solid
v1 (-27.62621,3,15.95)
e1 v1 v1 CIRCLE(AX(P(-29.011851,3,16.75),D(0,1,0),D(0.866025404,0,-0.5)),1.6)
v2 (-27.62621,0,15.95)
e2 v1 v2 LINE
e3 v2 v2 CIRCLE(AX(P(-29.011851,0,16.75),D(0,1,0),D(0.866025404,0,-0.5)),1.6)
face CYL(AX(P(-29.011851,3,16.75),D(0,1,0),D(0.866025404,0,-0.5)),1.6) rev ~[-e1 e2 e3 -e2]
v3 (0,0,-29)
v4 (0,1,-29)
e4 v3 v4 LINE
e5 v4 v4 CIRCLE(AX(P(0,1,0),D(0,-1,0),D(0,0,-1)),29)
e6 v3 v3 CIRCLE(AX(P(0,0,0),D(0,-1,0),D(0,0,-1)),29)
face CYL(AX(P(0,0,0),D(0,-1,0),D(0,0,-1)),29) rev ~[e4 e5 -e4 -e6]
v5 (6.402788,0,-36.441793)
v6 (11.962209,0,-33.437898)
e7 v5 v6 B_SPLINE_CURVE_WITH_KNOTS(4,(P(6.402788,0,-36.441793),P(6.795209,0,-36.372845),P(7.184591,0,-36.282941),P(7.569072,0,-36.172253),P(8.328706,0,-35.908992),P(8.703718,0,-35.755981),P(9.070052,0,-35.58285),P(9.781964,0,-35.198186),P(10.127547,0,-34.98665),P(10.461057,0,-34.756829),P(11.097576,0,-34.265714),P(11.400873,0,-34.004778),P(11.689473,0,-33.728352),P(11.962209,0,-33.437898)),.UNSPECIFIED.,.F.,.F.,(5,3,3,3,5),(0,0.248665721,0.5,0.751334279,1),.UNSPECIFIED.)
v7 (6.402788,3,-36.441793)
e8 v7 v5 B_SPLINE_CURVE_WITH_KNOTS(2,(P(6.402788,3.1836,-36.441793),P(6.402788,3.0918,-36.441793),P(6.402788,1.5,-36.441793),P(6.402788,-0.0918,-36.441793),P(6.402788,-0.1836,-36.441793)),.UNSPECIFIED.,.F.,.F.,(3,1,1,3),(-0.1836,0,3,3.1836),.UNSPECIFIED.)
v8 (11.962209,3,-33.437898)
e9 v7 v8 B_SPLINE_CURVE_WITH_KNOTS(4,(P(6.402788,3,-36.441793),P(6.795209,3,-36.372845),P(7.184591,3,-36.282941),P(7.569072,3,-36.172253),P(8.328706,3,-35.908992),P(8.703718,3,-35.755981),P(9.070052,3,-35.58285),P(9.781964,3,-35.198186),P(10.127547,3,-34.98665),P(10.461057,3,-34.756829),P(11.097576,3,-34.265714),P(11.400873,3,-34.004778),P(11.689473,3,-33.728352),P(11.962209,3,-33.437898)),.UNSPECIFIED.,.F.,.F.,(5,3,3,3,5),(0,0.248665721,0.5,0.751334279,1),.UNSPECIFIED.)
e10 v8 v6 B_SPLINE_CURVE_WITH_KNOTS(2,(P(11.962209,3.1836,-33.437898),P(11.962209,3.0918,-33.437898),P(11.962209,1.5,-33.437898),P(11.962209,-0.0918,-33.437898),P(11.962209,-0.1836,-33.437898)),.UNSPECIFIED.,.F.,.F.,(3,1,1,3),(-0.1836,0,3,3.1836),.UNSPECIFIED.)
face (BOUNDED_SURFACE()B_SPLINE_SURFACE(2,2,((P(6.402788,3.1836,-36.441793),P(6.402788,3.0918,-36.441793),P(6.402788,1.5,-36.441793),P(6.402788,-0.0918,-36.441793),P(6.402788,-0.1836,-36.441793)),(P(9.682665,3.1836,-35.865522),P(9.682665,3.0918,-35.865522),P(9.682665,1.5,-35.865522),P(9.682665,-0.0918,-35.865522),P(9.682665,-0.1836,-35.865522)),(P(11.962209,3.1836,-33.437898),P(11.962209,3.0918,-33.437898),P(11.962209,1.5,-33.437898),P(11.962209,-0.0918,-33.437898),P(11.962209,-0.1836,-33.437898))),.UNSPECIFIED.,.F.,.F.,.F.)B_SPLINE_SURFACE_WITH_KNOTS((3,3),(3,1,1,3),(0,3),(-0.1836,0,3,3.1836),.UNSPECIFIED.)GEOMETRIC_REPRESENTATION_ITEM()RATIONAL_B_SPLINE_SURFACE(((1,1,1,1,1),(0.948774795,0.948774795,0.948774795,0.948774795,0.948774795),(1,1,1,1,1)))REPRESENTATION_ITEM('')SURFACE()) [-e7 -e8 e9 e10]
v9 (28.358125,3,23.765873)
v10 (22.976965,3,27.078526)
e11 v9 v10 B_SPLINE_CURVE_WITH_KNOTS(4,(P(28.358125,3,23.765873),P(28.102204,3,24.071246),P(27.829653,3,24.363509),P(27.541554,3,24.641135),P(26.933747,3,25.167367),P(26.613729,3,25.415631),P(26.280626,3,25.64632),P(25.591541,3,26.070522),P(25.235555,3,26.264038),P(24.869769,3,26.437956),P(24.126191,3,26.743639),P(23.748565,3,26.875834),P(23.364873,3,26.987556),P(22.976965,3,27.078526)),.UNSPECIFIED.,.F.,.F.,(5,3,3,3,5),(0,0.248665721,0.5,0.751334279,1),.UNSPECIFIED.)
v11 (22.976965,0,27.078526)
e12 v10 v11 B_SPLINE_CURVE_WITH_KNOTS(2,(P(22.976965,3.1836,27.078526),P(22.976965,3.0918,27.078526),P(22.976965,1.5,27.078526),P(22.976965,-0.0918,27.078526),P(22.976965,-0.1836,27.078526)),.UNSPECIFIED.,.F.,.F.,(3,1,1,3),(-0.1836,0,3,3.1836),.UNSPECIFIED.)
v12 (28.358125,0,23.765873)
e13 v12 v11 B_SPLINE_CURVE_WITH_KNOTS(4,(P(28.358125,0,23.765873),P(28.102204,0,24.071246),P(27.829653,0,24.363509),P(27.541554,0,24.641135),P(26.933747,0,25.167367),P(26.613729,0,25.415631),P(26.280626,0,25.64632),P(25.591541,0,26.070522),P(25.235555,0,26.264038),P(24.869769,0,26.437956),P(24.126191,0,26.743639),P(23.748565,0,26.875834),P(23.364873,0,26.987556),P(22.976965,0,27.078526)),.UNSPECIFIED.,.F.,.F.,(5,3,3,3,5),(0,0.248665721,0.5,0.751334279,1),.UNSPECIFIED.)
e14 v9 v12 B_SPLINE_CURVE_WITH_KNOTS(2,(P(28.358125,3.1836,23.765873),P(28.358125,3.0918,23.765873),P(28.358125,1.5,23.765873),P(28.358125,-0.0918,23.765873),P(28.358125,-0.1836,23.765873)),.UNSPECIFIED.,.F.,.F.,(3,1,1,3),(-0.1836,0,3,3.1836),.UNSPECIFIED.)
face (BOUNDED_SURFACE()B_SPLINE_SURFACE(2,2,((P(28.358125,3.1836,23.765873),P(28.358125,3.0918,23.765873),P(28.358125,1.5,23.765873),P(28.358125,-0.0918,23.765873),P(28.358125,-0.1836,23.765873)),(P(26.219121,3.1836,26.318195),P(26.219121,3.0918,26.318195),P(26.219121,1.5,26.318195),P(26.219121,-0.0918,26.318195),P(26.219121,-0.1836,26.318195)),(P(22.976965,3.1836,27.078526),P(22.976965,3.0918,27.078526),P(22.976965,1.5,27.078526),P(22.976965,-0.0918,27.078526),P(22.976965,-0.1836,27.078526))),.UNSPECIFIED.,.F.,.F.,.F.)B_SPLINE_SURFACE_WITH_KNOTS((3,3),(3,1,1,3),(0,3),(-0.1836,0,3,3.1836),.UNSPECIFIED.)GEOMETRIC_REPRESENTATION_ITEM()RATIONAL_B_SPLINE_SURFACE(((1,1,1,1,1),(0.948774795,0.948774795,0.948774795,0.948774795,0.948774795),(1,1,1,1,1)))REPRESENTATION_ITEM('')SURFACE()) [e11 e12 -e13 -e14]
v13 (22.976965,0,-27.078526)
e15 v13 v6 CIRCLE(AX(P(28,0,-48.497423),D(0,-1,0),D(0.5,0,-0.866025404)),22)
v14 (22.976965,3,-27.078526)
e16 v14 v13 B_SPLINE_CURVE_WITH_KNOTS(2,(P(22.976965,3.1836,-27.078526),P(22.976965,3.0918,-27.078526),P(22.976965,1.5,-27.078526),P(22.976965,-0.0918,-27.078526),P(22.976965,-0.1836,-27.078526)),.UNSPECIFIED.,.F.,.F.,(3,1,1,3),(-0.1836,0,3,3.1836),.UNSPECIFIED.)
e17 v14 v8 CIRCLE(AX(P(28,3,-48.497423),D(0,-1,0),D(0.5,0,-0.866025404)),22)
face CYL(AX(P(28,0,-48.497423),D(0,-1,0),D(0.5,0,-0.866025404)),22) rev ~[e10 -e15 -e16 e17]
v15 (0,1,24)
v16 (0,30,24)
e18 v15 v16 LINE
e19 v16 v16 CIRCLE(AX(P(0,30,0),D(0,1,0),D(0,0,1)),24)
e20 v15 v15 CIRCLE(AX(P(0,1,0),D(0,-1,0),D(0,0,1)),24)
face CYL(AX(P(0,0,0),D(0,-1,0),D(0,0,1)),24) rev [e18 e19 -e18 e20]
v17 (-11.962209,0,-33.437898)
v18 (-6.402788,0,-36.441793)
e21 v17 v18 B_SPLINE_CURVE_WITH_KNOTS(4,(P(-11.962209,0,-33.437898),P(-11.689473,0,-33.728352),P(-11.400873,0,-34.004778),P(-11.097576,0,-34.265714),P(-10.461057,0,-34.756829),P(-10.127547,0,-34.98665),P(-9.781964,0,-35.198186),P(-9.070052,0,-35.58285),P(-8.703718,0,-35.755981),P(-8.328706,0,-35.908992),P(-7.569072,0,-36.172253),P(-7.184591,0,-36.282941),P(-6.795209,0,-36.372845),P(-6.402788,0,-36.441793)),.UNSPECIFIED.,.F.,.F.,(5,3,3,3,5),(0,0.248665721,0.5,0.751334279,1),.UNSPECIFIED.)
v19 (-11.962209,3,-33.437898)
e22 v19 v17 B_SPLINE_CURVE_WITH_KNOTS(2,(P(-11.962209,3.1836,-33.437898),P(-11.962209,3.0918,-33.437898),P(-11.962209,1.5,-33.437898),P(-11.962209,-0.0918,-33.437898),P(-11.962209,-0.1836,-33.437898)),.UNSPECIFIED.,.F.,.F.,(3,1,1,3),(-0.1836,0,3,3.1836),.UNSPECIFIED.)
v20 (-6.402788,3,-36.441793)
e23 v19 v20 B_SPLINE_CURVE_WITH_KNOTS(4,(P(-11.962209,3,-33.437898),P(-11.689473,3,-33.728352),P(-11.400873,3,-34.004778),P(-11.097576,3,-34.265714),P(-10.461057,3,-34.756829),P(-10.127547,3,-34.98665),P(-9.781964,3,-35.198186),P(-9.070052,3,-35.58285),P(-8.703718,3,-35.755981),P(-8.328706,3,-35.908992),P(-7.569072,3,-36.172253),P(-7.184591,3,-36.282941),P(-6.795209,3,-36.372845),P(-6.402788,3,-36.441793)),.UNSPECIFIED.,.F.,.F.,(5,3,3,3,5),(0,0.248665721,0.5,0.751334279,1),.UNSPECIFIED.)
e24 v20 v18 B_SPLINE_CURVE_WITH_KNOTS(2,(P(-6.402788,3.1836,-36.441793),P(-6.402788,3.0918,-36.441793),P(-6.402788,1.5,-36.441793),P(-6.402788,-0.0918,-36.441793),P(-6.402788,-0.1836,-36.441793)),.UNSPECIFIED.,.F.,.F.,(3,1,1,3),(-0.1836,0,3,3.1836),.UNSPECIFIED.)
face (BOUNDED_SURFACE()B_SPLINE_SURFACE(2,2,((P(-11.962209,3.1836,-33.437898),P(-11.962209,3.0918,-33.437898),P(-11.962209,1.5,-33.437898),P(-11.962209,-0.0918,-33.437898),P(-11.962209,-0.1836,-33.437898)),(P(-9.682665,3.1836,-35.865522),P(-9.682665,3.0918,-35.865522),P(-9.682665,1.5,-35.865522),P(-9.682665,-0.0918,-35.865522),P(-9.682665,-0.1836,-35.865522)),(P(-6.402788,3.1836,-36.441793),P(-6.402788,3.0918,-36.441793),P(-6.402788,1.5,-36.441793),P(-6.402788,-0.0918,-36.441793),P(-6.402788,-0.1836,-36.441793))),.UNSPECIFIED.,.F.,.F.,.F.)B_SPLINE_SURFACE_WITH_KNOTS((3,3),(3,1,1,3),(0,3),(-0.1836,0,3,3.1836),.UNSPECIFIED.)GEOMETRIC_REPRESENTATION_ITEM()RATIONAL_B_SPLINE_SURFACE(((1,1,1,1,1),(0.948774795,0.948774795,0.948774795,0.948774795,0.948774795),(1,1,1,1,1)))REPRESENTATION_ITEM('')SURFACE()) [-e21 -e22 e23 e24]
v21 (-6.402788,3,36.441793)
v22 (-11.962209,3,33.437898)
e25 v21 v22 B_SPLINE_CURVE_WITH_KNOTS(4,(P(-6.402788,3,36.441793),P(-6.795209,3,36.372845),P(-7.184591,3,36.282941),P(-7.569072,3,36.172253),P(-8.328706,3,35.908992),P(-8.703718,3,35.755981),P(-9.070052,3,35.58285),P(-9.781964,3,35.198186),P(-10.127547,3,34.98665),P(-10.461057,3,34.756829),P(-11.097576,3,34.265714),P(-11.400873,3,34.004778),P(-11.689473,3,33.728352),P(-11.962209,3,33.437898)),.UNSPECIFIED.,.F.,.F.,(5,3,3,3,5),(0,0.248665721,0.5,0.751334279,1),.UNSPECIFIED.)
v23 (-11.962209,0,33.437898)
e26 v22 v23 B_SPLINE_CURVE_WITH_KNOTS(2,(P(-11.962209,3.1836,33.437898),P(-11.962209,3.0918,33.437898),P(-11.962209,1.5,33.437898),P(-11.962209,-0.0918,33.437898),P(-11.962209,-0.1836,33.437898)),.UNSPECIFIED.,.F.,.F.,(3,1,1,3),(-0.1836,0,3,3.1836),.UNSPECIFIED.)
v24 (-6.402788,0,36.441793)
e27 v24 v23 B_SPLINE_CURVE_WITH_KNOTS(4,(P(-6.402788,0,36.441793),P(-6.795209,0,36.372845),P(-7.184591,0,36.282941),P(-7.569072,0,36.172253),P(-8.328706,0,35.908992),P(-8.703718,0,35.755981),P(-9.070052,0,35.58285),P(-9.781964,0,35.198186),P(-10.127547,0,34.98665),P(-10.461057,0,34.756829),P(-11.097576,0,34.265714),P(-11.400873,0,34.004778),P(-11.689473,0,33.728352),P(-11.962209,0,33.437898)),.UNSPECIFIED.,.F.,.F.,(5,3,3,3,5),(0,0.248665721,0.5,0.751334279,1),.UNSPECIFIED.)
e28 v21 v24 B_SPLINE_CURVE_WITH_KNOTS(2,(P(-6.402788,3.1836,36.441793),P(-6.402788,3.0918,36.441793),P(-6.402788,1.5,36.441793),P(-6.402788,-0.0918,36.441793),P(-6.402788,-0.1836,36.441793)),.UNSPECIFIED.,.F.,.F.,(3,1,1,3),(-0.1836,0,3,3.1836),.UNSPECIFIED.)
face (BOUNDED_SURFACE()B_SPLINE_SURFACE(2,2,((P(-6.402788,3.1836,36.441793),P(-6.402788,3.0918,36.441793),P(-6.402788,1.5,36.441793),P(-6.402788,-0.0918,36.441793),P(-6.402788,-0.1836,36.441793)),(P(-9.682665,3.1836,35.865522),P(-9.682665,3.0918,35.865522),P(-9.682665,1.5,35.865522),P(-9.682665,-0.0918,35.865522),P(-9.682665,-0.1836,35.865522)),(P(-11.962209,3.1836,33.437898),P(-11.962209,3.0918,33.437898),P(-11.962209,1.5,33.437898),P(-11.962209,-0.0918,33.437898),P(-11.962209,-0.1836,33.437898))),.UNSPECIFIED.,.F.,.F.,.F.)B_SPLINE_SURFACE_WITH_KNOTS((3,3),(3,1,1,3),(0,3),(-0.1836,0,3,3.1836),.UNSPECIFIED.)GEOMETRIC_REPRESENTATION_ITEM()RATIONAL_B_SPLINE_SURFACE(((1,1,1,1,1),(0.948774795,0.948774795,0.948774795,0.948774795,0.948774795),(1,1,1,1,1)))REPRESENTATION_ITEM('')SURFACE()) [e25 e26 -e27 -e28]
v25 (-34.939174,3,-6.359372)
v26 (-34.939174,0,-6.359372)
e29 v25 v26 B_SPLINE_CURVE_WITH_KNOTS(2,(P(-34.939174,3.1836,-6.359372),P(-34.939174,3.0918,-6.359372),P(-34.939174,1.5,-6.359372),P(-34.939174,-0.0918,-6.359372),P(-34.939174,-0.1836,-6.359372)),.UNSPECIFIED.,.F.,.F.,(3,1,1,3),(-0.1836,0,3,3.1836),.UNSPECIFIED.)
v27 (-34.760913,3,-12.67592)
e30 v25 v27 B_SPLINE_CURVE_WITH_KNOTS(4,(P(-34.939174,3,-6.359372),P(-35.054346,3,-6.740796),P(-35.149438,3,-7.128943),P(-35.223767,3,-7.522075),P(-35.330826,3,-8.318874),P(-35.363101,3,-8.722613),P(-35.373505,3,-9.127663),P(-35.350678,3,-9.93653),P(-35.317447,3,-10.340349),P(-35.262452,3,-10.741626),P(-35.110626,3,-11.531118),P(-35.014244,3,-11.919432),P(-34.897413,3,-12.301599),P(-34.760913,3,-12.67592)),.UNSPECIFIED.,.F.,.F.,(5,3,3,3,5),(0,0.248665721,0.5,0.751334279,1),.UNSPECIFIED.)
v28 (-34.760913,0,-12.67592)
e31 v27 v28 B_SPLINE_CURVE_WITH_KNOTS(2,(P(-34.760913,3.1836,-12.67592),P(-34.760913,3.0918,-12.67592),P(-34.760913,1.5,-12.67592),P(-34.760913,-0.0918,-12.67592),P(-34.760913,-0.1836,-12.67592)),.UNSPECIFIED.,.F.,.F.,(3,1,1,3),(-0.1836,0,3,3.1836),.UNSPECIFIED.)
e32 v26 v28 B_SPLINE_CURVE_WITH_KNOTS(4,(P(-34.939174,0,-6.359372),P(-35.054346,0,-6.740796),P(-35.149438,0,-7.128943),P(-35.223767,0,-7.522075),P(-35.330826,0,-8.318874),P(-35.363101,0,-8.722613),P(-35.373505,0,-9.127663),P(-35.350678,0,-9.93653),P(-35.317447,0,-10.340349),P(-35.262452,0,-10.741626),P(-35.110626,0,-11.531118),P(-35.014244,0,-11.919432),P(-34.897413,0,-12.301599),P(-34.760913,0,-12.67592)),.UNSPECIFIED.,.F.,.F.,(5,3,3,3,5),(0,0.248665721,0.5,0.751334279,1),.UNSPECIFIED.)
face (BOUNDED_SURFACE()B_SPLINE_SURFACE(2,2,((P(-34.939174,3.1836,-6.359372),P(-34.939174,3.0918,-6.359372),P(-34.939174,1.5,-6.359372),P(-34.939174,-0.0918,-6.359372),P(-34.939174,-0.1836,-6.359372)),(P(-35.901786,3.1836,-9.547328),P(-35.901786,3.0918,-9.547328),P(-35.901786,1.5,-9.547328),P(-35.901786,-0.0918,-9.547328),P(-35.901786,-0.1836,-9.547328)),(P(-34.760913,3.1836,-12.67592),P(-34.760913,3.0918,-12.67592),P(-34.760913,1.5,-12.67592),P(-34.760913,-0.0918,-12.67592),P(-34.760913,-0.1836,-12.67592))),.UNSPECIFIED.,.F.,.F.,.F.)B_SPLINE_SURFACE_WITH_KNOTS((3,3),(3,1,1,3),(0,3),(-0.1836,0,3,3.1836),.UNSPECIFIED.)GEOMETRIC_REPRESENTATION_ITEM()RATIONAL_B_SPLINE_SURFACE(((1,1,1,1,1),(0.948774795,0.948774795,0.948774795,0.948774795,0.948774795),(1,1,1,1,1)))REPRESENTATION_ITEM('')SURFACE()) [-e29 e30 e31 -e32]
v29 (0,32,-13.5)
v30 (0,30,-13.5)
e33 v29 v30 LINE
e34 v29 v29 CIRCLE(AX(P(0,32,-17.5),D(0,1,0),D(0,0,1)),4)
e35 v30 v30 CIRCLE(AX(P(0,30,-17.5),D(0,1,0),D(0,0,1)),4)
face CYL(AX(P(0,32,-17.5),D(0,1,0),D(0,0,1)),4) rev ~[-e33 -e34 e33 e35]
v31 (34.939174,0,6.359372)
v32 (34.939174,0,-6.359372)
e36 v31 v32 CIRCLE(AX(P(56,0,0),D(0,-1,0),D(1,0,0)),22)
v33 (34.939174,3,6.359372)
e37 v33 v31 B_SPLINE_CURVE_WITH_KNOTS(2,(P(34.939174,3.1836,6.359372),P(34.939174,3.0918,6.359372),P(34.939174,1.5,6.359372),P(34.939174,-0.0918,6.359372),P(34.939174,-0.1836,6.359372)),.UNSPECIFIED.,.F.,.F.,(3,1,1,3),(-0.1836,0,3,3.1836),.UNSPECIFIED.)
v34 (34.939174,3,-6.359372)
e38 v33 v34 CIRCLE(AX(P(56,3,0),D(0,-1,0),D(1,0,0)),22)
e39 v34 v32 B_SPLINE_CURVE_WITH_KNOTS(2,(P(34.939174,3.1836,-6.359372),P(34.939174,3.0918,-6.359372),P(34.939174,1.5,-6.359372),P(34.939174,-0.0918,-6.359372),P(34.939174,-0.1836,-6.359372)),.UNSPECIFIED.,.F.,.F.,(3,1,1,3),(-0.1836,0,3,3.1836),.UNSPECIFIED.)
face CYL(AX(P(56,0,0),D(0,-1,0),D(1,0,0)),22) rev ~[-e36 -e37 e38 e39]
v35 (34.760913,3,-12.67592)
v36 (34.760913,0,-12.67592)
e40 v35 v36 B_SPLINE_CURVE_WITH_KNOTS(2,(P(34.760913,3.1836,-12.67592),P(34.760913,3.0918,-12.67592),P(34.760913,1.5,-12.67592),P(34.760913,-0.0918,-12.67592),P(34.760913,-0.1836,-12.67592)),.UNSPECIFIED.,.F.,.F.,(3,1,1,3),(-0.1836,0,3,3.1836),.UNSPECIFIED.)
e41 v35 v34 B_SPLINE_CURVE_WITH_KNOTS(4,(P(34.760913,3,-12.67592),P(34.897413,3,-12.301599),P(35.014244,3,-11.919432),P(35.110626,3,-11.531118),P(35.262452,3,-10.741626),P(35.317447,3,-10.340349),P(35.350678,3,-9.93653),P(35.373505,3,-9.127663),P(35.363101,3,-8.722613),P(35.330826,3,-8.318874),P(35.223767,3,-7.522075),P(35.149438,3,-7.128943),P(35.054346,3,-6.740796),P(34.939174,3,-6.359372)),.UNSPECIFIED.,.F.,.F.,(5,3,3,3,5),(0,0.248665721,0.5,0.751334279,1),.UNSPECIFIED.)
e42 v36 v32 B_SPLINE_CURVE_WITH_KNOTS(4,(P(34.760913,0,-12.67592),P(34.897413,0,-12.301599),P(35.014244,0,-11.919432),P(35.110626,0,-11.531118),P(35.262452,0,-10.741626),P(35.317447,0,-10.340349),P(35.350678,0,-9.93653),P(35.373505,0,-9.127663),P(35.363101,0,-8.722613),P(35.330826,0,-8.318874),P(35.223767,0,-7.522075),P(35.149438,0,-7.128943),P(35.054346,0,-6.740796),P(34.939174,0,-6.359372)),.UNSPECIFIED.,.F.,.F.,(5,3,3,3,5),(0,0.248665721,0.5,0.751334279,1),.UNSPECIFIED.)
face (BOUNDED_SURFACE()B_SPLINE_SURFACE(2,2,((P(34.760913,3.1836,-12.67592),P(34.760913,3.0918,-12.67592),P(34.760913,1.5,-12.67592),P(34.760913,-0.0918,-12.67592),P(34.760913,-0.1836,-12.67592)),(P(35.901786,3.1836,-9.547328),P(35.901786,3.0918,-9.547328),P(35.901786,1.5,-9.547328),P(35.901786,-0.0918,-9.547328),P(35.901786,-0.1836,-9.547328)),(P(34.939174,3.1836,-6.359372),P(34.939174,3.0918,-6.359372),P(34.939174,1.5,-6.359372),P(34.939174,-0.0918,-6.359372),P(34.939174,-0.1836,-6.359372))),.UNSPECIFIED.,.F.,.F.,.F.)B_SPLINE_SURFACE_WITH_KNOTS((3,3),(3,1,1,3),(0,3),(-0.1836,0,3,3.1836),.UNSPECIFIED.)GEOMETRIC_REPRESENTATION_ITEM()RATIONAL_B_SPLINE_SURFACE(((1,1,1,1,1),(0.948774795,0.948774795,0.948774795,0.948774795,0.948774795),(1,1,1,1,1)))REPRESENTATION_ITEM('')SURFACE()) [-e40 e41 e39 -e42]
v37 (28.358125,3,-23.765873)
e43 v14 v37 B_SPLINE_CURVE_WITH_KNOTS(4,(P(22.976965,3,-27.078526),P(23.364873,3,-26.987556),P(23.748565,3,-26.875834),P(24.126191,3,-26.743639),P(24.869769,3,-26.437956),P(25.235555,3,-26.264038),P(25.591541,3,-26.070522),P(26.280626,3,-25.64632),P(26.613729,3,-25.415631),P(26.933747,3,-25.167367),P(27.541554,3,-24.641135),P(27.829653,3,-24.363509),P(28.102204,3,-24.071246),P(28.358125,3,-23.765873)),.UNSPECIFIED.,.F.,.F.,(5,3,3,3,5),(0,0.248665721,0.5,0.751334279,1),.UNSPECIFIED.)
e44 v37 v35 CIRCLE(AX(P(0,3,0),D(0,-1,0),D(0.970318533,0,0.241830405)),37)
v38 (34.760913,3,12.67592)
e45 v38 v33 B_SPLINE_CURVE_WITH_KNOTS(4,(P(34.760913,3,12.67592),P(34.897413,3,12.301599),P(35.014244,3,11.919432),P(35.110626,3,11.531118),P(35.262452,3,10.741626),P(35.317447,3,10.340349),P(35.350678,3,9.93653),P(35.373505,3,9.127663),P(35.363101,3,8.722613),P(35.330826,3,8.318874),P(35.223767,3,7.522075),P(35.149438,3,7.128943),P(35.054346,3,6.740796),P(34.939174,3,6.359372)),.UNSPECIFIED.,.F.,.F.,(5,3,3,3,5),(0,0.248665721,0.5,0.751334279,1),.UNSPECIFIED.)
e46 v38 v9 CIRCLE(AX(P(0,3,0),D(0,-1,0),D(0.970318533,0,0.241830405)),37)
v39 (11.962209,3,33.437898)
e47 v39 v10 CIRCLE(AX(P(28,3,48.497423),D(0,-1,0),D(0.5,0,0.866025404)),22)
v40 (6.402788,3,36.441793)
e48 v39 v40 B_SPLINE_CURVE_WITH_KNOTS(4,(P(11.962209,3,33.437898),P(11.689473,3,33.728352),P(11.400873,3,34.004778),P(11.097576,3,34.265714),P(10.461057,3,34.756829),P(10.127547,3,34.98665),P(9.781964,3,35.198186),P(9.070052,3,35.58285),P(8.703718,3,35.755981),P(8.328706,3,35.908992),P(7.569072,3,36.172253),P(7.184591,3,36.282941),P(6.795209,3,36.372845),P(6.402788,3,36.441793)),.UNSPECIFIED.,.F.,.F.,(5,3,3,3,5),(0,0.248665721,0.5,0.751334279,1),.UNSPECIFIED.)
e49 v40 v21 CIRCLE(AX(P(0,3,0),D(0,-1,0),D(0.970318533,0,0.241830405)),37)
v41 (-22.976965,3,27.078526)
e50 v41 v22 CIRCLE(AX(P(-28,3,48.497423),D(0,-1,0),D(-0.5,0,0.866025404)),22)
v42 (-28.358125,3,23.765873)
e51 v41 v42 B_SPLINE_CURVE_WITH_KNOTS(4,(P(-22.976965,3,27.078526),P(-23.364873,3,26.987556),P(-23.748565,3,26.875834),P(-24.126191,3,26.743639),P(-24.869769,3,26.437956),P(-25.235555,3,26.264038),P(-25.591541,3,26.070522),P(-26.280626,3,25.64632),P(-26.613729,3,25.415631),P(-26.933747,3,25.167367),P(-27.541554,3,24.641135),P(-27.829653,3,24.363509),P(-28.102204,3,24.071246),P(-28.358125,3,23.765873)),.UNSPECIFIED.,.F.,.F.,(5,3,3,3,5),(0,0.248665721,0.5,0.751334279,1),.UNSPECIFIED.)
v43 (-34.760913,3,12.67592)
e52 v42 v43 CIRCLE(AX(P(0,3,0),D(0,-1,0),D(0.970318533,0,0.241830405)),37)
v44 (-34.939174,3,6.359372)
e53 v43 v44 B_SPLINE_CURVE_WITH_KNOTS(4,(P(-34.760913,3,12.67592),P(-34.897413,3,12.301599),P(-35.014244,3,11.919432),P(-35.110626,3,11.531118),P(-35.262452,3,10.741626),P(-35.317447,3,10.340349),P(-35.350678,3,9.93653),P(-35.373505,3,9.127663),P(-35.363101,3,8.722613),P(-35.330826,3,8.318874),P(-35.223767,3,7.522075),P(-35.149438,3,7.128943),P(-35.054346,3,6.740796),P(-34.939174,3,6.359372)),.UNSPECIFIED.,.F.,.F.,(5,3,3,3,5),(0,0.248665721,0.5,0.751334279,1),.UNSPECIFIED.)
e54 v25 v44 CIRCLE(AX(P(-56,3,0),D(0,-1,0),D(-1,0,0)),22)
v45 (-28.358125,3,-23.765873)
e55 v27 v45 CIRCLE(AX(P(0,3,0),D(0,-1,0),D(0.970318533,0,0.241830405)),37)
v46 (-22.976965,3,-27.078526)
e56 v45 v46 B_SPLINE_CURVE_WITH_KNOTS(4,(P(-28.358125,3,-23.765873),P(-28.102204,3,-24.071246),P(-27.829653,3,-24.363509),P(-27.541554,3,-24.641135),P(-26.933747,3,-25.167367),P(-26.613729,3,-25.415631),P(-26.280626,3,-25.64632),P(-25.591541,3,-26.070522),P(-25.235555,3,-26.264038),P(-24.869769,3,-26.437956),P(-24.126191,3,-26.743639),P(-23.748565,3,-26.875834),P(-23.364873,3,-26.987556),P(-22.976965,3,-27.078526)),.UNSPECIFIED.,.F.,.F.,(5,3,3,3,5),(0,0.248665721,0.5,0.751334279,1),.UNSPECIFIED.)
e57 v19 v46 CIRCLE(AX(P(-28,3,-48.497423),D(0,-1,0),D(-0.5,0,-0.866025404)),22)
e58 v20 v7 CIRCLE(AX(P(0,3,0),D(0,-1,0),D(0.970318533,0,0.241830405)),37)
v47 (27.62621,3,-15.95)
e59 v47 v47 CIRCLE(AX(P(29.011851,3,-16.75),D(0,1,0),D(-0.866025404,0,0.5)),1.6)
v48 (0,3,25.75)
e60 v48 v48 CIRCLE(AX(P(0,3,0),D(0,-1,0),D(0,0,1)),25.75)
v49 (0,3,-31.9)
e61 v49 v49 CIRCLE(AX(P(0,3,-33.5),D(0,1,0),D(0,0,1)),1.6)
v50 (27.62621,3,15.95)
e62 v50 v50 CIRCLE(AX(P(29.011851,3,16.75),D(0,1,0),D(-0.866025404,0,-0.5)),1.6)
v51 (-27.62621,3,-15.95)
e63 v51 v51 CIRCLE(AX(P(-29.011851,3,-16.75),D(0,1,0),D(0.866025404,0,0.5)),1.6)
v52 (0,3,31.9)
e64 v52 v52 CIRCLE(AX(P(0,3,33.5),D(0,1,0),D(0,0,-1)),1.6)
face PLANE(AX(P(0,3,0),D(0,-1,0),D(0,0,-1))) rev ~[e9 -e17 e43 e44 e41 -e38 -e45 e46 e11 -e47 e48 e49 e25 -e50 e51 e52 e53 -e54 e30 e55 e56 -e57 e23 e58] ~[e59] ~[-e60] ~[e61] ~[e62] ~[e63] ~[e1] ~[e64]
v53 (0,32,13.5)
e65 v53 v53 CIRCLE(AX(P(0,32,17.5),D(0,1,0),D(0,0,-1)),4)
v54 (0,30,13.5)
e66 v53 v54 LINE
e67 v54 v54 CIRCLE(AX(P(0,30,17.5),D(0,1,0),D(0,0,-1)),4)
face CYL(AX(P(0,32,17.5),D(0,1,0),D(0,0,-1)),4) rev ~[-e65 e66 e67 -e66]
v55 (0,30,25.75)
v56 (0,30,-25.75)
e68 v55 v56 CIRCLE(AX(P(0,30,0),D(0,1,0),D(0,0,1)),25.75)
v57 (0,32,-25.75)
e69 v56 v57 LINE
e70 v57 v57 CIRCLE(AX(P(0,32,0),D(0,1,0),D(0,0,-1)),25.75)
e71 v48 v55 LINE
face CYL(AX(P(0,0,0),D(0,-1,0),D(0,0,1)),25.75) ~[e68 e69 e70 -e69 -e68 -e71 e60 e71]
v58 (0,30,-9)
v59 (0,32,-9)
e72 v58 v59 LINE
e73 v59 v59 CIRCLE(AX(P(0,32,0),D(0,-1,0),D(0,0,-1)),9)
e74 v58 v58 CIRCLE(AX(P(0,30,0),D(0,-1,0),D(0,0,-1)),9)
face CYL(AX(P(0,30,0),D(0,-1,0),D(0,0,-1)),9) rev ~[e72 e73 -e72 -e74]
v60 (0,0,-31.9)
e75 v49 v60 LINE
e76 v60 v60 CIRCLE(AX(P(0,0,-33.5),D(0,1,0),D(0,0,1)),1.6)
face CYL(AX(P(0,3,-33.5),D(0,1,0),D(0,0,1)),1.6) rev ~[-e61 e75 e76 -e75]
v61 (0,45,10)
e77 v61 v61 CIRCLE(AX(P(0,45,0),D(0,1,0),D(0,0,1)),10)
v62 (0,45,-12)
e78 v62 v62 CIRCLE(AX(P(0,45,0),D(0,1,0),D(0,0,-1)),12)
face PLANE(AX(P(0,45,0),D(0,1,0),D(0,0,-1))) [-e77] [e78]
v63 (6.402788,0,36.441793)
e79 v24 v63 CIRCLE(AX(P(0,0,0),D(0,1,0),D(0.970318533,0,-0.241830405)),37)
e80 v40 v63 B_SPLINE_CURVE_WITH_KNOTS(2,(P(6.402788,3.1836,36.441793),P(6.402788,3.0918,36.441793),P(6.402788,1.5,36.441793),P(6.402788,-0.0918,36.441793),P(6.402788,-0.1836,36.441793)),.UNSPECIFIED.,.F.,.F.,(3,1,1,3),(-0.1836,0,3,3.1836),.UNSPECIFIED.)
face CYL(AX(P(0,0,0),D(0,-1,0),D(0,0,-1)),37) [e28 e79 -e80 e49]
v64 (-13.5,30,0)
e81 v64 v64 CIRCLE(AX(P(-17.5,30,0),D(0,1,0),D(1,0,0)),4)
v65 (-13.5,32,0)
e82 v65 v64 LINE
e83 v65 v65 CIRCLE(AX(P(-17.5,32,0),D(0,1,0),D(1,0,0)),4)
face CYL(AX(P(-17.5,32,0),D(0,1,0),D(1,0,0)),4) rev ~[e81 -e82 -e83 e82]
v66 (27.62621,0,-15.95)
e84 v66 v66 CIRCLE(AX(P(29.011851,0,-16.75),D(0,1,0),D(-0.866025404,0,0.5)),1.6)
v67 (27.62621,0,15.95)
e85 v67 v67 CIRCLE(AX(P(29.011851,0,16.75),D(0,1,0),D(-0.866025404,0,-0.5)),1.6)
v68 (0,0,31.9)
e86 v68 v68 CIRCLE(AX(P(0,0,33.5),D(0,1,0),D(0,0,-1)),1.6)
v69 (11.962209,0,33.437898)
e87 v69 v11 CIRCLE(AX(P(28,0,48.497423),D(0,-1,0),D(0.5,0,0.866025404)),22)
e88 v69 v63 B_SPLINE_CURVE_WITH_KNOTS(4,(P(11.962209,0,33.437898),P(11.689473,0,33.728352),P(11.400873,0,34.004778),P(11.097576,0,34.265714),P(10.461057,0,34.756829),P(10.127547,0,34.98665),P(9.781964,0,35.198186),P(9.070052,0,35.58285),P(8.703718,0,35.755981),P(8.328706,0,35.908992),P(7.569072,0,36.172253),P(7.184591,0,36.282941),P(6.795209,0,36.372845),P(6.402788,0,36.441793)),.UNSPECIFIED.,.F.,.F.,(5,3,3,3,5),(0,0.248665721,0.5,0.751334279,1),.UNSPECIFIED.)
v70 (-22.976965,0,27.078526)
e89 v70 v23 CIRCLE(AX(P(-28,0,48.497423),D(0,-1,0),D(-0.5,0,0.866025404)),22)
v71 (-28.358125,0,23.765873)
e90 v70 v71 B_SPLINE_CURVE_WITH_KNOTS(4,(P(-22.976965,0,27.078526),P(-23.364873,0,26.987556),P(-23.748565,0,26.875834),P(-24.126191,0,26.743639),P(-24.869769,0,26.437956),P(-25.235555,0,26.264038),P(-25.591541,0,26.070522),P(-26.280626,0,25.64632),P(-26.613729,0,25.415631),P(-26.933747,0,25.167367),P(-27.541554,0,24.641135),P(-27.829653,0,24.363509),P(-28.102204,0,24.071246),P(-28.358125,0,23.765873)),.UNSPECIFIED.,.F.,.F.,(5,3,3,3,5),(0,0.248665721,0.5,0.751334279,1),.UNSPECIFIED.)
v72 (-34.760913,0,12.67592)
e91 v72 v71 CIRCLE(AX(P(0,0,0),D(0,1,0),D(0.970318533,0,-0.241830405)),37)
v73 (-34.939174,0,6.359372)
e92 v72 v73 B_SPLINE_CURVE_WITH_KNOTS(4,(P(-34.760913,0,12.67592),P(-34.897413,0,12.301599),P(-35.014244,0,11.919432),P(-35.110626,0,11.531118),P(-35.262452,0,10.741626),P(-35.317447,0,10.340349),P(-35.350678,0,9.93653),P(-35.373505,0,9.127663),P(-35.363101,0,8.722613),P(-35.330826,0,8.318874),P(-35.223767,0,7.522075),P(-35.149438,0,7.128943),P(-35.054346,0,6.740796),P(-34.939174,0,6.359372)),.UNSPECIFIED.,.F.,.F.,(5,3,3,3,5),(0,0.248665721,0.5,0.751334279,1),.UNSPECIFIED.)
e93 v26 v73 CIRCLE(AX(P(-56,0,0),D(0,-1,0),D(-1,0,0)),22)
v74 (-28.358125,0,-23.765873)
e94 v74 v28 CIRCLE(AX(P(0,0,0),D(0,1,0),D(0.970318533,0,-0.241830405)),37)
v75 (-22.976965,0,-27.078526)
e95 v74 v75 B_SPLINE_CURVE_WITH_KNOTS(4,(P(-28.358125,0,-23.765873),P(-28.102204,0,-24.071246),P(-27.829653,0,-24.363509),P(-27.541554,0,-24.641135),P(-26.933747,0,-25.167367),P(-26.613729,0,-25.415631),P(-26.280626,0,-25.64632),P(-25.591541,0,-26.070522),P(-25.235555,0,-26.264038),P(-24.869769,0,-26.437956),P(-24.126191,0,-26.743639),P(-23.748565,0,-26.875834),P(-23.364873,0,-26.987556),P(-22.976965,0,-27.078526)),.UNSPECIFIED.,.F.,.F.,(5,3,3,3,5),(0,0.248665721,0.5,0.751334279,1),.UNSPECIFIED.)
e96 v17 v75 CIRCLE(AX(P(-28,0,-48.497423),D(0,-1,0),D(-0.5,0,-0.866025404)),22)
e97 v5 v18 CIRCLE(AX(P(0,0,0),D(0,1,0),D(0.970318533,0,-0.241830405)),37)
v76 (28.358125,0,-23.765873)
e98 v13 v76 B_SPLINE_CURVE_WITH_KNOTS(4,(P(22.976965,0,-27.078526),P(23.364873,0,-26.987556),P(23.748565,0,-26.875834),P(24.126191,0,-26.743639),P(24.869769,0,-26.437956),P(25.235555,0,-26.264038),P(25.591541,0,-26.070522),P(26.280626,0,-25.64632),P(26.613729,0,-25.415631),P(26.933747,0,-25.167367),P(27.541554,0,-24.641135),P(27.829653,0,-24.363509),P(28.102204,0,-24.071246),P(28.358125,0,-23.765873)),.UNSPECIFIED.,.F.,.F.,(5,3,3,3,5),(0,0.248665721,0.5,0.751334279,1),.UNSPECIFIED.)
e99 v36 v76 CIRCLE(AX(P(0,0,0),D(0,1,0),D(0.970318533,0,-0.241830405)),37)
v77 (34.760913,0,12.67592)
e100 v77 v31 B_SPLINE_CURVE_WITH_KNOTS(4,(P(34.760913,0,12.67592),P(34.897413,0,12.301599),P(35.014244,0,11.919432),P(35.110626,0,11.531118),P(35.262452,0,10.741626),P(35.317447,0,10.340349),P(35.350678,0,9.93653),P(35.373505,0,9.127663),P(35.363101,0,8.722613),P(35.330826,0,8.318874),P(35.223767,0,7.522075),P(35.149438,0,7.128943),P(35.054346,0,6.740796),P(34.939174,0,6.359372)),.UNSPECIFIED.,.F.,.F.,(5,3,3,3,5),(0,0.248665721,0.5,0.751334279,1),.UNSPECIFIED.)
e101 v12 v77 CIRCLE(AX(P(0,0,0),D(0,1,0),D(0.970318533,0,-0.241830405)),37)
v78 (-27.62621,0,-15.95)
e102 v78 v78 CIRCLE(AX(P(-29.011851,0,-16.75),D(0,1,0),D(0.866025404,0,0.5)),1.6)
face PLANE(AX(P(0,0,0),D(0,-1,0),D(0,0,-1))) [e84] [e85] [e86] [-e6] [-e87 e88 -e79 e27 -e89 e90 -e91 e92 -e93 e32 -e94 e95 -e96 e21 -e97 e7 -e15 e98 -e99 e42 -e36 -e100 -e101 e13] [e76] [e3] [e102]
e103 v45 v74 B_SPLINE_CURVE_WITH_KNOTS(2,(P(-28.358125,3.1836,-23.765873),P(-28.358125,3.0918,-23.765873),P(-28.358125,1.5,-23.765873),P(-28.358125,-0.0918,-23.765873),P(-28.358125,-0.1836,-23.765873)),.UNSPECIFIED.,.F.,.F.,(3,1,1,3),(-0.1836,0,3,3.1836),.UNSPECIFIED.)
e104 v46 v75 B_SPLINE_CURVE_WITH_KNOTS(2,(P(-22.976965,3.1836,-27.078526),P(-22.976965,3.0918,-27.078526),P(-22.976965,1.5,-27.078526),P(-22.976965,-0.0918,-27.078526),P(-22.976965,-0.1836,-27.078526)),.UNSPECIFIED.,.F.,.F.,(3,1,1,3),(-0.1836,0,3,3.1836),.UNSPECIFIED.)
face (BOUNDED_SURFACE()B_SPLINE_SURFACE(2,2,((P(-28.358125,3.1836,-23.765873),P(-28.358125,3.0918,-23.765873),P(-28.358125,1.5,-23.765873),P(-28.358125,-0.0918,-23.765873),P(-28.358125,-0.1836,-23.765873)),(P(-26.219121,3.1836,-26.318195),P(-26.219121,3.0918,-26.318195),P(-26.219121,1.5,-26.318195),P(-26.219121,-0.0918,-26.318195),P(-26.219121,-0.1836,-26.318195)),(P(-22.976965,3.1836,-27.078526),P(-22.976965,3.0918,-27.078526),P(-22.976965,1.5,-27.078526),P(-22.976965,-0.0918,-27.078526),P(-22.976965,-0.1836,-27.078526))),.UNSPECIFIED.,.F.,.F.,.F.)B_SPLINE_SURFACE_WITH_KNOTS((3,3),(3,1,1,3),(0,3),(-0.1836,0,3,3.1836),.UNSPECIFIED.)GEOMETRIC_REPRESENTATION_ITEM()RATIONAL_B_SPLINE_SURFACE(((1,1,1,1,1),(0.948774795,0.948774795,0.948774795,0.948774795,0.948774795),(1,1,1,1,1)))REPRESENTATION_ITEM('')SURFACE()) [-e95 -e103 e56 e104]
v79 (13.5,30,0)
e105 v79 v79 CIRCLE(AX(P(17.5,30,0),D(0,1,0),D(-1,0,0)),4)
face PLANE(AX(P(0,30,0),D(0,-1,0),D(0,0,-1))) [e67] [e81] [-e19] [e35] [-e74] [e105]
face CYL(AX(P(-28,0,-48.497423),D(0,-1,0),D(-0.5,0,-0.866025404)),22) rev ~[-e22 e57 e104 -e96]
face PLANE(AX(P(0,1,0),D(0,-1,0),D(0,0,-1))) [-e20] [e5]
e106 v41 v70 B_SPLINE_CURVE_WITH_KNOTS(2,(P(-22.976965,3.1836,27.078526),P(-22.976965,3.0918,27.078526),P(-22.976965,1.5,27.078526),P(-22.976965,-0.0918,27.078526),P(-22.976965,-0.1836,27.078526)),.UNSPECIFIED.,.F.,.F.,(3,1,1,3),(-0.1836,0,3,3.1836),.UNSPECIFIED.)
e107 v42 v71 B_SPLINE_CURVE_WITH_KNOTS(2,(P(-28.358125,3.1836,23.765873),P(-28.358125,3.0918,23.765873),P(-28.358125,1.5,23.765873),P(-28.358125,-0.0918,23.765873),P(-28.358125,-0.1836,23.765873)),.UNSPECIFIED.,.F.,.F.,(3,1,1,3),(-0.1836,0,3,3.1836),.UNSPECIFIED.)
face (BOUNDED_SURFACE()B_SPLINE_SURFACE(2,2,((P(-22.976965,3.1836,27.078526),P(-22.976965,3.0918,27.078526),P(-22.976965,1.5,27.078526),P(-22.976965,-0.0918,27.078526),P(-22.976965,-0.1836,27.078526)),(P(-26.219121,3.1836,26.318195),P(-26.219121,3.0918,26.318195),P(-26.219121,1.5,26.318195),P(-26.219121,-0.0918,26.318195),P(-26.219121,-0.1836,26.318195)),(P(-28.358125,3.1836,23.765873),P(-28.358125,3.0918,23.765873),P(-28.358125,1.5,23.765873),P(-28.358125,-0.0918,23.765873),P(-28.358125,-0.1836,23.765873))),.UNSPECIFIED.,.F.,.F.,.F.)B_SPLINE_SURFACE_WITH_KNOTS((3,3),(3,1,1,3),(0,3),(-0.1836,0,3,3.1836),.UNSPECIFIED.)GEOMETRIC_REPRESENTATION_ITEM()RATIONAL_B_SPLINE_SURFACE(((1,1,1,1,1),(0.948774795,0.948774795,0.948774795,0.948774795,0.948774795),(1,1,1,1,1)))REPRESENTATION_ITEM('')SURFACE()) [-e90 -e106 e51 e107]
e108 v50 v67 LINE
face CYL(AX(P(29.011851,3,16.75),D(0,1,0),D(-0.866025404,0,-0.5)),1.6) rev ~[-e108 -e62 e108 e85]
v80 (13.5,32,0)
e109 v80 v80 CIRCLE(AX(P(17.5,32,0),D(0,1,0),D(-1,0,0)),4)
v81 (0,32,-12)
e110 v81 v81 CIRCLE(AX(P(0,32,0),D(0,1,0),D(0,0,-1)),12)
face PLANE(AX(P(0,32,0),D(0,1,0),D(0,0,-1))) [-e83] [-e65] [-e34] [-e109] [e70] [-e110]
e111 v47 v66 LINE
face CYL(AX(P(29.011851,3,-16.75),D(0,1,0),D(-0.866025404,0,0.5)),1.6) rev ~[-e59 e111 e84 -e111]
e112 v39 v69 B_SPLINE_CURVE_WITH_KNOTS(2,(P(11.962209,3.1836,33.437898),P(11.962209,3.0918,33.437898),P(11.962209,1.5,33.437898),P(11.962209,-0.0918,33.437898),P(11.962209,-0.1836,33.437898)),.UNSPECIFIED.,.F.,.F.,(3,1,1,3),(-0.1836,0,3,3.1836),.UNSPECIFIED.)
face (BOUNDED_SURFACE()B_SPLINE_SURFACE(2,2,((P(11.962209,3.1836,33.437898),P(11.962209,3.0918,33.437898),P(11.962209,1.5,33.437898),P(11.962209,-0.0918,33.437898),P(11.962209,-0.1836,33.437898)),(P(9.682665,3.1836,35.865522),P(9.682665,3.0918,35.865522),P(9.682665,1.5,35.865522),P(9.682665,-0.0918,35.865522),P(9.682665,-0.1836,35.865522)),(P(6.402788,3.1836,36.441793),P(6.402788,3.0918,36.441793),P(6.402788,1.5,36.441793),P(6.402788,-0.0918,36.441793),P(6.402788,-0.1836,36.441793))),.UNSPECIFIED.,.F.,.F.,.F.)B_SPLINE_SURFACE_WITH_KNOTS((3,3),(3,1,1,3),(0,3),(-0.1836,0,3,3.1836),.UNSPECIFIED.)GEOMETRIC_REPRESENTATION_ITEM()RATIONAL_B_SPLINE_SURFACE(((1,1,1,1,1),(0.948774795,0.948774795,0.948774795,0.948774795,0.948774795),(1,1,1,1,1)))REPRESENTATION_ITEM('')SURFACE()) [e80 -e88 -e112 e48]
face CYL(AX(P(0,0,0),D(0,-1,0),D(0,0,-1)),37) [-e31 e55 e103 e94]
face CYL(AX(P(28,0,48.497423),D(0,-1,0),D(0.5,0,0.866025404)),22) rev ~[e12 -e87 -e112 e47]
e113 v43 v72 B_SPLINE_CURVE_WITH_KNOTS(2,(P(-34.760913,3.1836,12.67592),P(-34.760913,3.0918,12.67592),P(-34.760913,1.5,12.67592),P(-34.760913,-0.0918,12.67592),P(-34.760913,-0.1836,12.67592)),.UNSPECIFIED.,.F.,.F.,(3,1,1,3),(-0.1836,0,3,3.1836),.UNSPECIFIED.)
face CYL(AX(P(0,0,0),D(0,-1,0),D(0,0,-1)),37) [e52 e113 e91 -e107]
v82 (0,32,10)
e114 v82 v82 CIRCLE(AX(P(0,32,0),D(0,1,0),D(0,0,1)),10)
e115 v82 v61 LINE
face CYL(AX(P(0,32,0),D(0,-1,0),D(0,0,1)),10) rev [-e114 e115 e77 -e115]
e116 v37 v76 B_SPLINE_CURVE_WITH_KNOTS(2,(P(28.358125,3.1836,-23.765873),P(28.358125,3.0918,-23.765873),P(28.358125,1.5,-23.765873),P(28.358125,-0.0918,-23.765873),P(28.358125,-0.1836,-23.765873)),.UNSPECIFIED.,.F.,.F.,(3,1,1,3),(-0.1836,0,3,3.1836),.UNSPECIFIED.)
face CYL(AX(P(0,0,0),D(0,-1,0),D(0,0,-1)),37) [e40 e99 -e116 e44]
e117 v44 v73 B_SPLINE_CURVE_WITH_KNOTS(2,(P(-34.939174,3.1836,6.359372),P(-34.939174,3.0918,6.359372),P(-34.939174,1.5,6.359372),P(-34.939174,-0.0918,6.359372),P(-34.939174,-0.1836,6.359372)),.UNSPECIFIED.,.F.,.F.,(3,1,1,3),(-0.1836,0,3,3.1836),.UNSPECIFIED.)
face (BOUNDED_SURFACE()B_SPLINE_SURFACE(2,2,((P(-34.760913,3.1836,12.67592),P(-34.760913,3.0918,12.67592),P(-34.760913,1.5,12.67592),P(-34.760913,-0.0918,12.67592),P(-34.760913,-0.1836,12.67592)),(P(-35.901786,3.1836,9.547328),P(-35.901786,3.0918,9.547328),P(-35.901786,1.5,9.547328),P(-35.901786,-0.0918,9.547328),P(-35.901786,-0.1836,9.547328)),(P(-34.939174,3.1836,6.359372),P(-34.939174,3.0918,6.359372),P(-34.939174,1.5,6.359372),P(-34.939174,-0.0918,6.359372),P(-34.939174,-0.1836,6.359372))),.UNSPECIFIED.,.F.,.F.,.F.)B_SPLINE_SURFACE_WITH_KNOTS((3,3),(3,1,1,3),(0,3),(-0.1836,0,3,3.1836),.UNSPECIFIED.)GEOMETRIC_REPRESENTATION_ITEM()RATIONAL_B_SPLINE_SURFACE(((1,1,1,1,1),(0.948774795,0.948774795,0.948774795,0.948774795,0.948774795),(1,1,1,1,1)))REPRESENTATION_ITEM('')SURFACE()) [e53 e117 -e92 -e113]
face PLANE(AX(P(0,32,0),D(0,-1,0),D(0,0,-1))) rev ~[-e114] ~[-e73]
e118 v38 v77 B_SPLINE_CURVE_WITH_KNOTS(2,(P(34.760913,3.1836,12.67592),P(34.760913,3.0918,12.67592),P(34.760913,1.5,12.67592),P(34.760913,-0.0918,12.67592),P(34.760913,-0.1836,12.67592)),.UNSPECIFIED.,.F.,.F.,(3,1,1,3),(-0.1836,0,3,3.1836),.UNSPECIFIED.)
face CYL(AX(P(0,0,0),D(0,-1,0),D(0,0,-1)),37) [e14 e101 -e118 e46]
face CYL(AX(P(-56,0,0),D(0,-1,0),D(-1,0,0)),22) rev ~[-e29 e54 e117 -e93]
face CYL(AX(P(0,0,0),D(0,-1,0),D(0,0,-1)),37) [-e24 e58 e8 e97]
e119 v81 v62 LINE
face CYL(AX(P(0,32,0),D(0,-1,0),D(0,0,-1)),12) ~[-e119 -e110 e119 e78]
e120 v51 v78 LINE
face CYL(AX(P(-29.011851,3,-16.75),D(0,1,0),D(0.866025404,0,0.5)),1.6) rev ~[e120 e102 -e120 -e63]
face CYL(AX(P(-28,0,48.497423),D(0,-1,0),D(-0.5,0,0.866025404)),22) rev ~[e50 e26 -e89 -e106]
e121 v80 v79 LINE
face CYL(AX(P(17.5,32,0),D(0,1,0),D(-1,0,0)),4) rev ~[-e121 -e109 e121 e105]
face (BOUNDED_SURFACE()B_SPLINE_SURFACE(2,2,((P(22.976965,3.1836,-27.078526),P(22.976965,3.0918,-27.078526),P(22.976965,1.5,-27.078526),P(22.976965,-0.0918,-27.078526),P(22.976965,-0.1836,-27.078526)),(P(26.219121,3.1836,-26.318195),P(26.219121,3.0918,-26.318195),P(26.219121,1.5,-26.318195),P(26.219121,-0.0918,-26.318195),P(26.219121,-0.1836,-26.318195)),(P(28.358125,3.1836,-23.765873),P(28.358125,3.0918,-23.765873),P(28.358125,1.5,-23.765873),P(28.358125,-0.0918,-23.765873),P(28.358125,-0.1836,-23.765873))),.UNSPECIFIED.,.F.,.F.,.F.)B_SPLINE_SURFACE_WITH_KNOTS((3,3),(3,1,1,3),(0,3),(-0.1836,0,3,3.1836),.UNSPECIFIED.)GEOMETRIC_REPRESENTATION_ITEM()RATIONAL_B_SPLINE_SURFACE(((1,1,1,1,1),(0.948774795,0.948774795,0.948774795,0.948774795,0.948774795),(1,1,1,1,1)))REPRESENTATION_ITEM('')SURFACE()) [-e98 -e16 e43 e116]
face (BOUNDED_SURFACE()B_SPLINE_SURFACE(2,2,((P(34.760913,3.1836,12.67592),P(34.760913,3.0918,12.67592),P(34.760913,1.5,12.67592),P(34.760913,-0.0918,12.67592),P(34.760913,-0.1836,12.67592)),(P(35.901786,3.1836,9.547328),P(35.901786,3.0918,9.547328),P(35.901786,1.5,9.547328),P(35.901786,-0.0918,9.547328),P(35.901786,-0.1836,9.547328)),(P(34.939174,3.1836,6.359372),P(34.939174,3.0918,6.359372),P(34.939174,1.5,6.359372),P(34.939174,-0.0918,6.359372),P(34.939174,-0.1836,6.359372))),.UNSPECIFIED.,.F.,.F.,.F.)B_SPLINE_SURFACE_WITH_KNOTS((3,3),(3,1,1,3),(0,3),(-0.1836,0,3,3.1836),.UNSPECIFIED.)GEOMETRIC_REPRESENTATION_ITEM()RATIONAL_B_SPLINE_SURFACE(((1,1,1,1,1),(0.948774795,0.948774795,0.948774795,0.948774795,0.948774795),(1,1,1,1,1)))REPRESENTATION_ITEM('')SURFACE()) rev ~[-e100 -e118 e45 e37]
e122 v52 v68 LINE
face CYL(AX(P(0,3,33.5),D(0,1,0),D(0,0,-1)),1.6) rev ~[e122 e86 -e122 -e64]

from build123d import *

# Parameters (mm, degrees)
SKETCH_1_R               = 25.75
SKETCH_1_R_2             = 24
EXTRUDE_1_DEPTH          = 30
SKETCH_2_R               = 37
SKETCH_2_R_2             = 24
EXTRUDE_2_DEPTH          = 3
SKETCH_3_R               = 29
CUT_EXTRUDE_1_DEPTH      = 1
SKETCH_4_R               = 1.6
CUT_EXTRUDE_2_DEPTH      = 21
PATTERN_CIRCULAR_1_COUNT = 6
SKETCH_5_R               = 22
CUT_EXTRUDE_3_DEPTH      = 11
PATTERN_CIRCULAR_2_COUNT = 6
SKETCH_6_R               = 25.75
SKETCH_6_R_2             = 10
EXTRUDE_3_DEPTH          = 2
SKETCH_7_R               = 12
SKETCH_7_R_2             = 10
EXTRUDE_4_DEPTH          = 13
SKETCH_8_R               = 4
CUT_EXTRUDE_5_DEPTH      = 15.3
PATTERN_CIRCULAR_4_COUNT = 4
SKETCH_9_R               = 10
SKETCH_9_R_2             = 9
EXTRUDE_5_DEPTH          = 2
FILLET_1_R               = 10


with BuildPart() as part:
    # 草图1 → 凸台-拉伸1 (new body)
    with BuildSketch(Plane(origin=(0, 0, 0), x_dir=(1, 0, 0), z_dir=(0, 1, 0))):
        with Locations(Location((0, 0, 0), (0, 0, 270))):
            Circle(SKETCH_1_R)
        with Locations(Location((0, 0, 0), (0, 0, 270))):
            Circle(SKETCH_1_R_2, mode=Mode.SUBTRACT)
    extrude(amount=EXTRUDE_1_DEPTH)

    # 草图2 → 凸台-拉伸2 (add)
    with BuildSketch(Plane.XZ):
        with Locations(Location((0, 0, 0), (0, 0, 270))):
            Circle(SKETCH_2_R)
        with Locations(Location((0, 0, 0), (0, 0, 90))):
            Circle(SKETCH_2_R_2, mode=Mode.SUBTRACT)
    extrude(amount=-EXTRUDE_2_DEPTH)

    # 草图3 → 切除-拉伸1 (cut)
    with BuildSketch(Plane.XZ):
        with Locations(Location((0, 0, 0), (0, 0, 270))):
            Circle(SKETCH_3_R)
    extrude(amount=-CUT_EXTRUDE_1_DEPTH, mode=Mode.SUBTRACT)

    # 草图4 → 切除-拉伸2 (cut)
    with BuildSketch(Plane(origin=(0, 3, 0), x_dir=(1, 0, 0), z_dir=(0, 1, 0))):
        with Locations(Location((0, 33.5, 0), (0, 0, 270))):
            Circle(SKETCH_4_R)
    cut_extrude_2 = extrude(amount=-CUT_EXTRUDE_2_DEPTH, mode=Mode.SUBTRACT)

    # 阵列(圆周)1: 切除-拉伸2 ×6 about axis
    pattern_circular_1_axis = Axis((0, 0, 0), (0, 1, 0))
    for i in range(1, PATTERN_CIRCULAR_1_COUNT):
        add(cut_extrude_2.rotate(pattern_circular_1_axis, i * 360 / PATTERN_CIRCULAR_1_COUNT), mode=Mode.SUBTRACT)

    # 草图5 → 切除-拉伸3 (cut)
    with BuildSketch(Plane.XZ):
        with Locations((56, 0)):
            Circle(SKETCH_5_R)
    cut_extrude_3 = extrude(amount=-CUT_EXTRUDE_3_DEPTH, mode=Mode.SUBTRACT)

    # 阵列(圆周)2: 切除-拉伸3 ×6 about axis
    pattern_circular_2_axis = Axis((0, 0, 0), (0, 1, 0))
    for i in range(1, PATTERN_CIRCULAR_2_COUNT):
        add(cut_extrude_3.rotate(pattern_circular_2_axis, i * 360 / PATTERN_CIRCULAR_2_COUNT), mode=Mode.SUBTRACT)

    # 草图6 → 凸台-拉伸3 (add)
    with BuildSketch(Plane(origin=(0, 30, 0), x_dir=(1, 0, 0), z_dir=(0, 1, 0))):
        with Locations(Location((0, 0, 0), (0, 0, 90))):
            Circle(SKETCH_6_R)
        with Locations(Location((0, 0, 0), (0, 0, 270))):
            Circle(SKETCH_6_R_2, mode=Mode.SUBTRACT)
    extrude(amount=EXTRUDE_3_DEPTH)

    # 草图7 → 凸台-拉伸4 (add)
    with BuildSketch(Plane(origin=(0, 32, 0), x_dir=(1, 0, 0), z_dir=(0, 1, 0))):
        with Locations(Location((0, 0, 0), (0, 0, 90))):
            Circle(SKETCH_7_R)
        with Locations(Location((0, 0, 0), (0, 0, 270))):
            Circle(SKETCH_7_R_2, mode=Mode.SUBTRACT)
    extrude(amount=EXTRUDE_4_DEPTH)

    # 草图8 → 切除-拉伸5 (cut)
    with BuildSketch(Plane(origin=(0, 32, 0), x_dir=(1, 0, 0), z_dir=(0, 1, 0))):
        with Locations(Location((0, 17.5, 0), (0, 0, 270))):
            Circle(SKETCH_8_R)
    cut_extrude_5 = extrude(amount=-CUT_EXTRUDE_5_DEPTH, mode=Mode.SUBTRACT)

    # 阵列(圆周)4: 切除-拉伸5 ×4 about axis
    pattern_circular_4_axis = Axis((0, 0, 0), (0, 1, 0))
    for i in range(1, PATTERN_CIRCULAR_4_COUNT):
        add(cut_extrude_5.rotate(pattern_circular_4_axis, i * 360 / PATTERN_CIRCULAR_4_COUNT), mode=Mode.SUBTRACT)

    # 草图9 → 凸台-拉伸5 (add)
    with BuildSketch(Plane.XZ.offset(-30)):
        with Locations(Location((0, 0, 0), (0, 0, 270))):
            Circle(SKETCH_9_R)
        with Locations(Location((0, 0, 0), (0, 0, 270))):
            Circle(SKETCH_9_R_2, mode=Mode.SUBTRACT)
    extrude(amount=-EXTRUDE_5_DEPTH)

    # 圆角1
    fillet_1_edges = [part.edges().sort_by_distance(p)[0] for p in [
        (35.901785714, 1.5, -8.947724992),
        (35.901785714, 1.5, 8.947724992),
        (25.699850006, 1.5, 26.617995974),
        (10.201935708, 1.5, 35.565720966),
        (-10.201935708, 1.5, 35.565720966),
        (-25.699850006, 1.5, 26.617995974),
        (-35.901785714, 1.5, 8.947724992),
        (-35.901785714, 1.5, -8.947724992),
        (-25.699850006, 1.5, -26.617995974),
        (-10.201935708, 1.5, -35.565720966),
        (10.201935708, 1.5, -35.565720966),
        (25.699850006, 1.5, -26.617995974),
    ]]
    fillet(fillet_1_edges, radius=FILLET_1_R)


solid = part.part
